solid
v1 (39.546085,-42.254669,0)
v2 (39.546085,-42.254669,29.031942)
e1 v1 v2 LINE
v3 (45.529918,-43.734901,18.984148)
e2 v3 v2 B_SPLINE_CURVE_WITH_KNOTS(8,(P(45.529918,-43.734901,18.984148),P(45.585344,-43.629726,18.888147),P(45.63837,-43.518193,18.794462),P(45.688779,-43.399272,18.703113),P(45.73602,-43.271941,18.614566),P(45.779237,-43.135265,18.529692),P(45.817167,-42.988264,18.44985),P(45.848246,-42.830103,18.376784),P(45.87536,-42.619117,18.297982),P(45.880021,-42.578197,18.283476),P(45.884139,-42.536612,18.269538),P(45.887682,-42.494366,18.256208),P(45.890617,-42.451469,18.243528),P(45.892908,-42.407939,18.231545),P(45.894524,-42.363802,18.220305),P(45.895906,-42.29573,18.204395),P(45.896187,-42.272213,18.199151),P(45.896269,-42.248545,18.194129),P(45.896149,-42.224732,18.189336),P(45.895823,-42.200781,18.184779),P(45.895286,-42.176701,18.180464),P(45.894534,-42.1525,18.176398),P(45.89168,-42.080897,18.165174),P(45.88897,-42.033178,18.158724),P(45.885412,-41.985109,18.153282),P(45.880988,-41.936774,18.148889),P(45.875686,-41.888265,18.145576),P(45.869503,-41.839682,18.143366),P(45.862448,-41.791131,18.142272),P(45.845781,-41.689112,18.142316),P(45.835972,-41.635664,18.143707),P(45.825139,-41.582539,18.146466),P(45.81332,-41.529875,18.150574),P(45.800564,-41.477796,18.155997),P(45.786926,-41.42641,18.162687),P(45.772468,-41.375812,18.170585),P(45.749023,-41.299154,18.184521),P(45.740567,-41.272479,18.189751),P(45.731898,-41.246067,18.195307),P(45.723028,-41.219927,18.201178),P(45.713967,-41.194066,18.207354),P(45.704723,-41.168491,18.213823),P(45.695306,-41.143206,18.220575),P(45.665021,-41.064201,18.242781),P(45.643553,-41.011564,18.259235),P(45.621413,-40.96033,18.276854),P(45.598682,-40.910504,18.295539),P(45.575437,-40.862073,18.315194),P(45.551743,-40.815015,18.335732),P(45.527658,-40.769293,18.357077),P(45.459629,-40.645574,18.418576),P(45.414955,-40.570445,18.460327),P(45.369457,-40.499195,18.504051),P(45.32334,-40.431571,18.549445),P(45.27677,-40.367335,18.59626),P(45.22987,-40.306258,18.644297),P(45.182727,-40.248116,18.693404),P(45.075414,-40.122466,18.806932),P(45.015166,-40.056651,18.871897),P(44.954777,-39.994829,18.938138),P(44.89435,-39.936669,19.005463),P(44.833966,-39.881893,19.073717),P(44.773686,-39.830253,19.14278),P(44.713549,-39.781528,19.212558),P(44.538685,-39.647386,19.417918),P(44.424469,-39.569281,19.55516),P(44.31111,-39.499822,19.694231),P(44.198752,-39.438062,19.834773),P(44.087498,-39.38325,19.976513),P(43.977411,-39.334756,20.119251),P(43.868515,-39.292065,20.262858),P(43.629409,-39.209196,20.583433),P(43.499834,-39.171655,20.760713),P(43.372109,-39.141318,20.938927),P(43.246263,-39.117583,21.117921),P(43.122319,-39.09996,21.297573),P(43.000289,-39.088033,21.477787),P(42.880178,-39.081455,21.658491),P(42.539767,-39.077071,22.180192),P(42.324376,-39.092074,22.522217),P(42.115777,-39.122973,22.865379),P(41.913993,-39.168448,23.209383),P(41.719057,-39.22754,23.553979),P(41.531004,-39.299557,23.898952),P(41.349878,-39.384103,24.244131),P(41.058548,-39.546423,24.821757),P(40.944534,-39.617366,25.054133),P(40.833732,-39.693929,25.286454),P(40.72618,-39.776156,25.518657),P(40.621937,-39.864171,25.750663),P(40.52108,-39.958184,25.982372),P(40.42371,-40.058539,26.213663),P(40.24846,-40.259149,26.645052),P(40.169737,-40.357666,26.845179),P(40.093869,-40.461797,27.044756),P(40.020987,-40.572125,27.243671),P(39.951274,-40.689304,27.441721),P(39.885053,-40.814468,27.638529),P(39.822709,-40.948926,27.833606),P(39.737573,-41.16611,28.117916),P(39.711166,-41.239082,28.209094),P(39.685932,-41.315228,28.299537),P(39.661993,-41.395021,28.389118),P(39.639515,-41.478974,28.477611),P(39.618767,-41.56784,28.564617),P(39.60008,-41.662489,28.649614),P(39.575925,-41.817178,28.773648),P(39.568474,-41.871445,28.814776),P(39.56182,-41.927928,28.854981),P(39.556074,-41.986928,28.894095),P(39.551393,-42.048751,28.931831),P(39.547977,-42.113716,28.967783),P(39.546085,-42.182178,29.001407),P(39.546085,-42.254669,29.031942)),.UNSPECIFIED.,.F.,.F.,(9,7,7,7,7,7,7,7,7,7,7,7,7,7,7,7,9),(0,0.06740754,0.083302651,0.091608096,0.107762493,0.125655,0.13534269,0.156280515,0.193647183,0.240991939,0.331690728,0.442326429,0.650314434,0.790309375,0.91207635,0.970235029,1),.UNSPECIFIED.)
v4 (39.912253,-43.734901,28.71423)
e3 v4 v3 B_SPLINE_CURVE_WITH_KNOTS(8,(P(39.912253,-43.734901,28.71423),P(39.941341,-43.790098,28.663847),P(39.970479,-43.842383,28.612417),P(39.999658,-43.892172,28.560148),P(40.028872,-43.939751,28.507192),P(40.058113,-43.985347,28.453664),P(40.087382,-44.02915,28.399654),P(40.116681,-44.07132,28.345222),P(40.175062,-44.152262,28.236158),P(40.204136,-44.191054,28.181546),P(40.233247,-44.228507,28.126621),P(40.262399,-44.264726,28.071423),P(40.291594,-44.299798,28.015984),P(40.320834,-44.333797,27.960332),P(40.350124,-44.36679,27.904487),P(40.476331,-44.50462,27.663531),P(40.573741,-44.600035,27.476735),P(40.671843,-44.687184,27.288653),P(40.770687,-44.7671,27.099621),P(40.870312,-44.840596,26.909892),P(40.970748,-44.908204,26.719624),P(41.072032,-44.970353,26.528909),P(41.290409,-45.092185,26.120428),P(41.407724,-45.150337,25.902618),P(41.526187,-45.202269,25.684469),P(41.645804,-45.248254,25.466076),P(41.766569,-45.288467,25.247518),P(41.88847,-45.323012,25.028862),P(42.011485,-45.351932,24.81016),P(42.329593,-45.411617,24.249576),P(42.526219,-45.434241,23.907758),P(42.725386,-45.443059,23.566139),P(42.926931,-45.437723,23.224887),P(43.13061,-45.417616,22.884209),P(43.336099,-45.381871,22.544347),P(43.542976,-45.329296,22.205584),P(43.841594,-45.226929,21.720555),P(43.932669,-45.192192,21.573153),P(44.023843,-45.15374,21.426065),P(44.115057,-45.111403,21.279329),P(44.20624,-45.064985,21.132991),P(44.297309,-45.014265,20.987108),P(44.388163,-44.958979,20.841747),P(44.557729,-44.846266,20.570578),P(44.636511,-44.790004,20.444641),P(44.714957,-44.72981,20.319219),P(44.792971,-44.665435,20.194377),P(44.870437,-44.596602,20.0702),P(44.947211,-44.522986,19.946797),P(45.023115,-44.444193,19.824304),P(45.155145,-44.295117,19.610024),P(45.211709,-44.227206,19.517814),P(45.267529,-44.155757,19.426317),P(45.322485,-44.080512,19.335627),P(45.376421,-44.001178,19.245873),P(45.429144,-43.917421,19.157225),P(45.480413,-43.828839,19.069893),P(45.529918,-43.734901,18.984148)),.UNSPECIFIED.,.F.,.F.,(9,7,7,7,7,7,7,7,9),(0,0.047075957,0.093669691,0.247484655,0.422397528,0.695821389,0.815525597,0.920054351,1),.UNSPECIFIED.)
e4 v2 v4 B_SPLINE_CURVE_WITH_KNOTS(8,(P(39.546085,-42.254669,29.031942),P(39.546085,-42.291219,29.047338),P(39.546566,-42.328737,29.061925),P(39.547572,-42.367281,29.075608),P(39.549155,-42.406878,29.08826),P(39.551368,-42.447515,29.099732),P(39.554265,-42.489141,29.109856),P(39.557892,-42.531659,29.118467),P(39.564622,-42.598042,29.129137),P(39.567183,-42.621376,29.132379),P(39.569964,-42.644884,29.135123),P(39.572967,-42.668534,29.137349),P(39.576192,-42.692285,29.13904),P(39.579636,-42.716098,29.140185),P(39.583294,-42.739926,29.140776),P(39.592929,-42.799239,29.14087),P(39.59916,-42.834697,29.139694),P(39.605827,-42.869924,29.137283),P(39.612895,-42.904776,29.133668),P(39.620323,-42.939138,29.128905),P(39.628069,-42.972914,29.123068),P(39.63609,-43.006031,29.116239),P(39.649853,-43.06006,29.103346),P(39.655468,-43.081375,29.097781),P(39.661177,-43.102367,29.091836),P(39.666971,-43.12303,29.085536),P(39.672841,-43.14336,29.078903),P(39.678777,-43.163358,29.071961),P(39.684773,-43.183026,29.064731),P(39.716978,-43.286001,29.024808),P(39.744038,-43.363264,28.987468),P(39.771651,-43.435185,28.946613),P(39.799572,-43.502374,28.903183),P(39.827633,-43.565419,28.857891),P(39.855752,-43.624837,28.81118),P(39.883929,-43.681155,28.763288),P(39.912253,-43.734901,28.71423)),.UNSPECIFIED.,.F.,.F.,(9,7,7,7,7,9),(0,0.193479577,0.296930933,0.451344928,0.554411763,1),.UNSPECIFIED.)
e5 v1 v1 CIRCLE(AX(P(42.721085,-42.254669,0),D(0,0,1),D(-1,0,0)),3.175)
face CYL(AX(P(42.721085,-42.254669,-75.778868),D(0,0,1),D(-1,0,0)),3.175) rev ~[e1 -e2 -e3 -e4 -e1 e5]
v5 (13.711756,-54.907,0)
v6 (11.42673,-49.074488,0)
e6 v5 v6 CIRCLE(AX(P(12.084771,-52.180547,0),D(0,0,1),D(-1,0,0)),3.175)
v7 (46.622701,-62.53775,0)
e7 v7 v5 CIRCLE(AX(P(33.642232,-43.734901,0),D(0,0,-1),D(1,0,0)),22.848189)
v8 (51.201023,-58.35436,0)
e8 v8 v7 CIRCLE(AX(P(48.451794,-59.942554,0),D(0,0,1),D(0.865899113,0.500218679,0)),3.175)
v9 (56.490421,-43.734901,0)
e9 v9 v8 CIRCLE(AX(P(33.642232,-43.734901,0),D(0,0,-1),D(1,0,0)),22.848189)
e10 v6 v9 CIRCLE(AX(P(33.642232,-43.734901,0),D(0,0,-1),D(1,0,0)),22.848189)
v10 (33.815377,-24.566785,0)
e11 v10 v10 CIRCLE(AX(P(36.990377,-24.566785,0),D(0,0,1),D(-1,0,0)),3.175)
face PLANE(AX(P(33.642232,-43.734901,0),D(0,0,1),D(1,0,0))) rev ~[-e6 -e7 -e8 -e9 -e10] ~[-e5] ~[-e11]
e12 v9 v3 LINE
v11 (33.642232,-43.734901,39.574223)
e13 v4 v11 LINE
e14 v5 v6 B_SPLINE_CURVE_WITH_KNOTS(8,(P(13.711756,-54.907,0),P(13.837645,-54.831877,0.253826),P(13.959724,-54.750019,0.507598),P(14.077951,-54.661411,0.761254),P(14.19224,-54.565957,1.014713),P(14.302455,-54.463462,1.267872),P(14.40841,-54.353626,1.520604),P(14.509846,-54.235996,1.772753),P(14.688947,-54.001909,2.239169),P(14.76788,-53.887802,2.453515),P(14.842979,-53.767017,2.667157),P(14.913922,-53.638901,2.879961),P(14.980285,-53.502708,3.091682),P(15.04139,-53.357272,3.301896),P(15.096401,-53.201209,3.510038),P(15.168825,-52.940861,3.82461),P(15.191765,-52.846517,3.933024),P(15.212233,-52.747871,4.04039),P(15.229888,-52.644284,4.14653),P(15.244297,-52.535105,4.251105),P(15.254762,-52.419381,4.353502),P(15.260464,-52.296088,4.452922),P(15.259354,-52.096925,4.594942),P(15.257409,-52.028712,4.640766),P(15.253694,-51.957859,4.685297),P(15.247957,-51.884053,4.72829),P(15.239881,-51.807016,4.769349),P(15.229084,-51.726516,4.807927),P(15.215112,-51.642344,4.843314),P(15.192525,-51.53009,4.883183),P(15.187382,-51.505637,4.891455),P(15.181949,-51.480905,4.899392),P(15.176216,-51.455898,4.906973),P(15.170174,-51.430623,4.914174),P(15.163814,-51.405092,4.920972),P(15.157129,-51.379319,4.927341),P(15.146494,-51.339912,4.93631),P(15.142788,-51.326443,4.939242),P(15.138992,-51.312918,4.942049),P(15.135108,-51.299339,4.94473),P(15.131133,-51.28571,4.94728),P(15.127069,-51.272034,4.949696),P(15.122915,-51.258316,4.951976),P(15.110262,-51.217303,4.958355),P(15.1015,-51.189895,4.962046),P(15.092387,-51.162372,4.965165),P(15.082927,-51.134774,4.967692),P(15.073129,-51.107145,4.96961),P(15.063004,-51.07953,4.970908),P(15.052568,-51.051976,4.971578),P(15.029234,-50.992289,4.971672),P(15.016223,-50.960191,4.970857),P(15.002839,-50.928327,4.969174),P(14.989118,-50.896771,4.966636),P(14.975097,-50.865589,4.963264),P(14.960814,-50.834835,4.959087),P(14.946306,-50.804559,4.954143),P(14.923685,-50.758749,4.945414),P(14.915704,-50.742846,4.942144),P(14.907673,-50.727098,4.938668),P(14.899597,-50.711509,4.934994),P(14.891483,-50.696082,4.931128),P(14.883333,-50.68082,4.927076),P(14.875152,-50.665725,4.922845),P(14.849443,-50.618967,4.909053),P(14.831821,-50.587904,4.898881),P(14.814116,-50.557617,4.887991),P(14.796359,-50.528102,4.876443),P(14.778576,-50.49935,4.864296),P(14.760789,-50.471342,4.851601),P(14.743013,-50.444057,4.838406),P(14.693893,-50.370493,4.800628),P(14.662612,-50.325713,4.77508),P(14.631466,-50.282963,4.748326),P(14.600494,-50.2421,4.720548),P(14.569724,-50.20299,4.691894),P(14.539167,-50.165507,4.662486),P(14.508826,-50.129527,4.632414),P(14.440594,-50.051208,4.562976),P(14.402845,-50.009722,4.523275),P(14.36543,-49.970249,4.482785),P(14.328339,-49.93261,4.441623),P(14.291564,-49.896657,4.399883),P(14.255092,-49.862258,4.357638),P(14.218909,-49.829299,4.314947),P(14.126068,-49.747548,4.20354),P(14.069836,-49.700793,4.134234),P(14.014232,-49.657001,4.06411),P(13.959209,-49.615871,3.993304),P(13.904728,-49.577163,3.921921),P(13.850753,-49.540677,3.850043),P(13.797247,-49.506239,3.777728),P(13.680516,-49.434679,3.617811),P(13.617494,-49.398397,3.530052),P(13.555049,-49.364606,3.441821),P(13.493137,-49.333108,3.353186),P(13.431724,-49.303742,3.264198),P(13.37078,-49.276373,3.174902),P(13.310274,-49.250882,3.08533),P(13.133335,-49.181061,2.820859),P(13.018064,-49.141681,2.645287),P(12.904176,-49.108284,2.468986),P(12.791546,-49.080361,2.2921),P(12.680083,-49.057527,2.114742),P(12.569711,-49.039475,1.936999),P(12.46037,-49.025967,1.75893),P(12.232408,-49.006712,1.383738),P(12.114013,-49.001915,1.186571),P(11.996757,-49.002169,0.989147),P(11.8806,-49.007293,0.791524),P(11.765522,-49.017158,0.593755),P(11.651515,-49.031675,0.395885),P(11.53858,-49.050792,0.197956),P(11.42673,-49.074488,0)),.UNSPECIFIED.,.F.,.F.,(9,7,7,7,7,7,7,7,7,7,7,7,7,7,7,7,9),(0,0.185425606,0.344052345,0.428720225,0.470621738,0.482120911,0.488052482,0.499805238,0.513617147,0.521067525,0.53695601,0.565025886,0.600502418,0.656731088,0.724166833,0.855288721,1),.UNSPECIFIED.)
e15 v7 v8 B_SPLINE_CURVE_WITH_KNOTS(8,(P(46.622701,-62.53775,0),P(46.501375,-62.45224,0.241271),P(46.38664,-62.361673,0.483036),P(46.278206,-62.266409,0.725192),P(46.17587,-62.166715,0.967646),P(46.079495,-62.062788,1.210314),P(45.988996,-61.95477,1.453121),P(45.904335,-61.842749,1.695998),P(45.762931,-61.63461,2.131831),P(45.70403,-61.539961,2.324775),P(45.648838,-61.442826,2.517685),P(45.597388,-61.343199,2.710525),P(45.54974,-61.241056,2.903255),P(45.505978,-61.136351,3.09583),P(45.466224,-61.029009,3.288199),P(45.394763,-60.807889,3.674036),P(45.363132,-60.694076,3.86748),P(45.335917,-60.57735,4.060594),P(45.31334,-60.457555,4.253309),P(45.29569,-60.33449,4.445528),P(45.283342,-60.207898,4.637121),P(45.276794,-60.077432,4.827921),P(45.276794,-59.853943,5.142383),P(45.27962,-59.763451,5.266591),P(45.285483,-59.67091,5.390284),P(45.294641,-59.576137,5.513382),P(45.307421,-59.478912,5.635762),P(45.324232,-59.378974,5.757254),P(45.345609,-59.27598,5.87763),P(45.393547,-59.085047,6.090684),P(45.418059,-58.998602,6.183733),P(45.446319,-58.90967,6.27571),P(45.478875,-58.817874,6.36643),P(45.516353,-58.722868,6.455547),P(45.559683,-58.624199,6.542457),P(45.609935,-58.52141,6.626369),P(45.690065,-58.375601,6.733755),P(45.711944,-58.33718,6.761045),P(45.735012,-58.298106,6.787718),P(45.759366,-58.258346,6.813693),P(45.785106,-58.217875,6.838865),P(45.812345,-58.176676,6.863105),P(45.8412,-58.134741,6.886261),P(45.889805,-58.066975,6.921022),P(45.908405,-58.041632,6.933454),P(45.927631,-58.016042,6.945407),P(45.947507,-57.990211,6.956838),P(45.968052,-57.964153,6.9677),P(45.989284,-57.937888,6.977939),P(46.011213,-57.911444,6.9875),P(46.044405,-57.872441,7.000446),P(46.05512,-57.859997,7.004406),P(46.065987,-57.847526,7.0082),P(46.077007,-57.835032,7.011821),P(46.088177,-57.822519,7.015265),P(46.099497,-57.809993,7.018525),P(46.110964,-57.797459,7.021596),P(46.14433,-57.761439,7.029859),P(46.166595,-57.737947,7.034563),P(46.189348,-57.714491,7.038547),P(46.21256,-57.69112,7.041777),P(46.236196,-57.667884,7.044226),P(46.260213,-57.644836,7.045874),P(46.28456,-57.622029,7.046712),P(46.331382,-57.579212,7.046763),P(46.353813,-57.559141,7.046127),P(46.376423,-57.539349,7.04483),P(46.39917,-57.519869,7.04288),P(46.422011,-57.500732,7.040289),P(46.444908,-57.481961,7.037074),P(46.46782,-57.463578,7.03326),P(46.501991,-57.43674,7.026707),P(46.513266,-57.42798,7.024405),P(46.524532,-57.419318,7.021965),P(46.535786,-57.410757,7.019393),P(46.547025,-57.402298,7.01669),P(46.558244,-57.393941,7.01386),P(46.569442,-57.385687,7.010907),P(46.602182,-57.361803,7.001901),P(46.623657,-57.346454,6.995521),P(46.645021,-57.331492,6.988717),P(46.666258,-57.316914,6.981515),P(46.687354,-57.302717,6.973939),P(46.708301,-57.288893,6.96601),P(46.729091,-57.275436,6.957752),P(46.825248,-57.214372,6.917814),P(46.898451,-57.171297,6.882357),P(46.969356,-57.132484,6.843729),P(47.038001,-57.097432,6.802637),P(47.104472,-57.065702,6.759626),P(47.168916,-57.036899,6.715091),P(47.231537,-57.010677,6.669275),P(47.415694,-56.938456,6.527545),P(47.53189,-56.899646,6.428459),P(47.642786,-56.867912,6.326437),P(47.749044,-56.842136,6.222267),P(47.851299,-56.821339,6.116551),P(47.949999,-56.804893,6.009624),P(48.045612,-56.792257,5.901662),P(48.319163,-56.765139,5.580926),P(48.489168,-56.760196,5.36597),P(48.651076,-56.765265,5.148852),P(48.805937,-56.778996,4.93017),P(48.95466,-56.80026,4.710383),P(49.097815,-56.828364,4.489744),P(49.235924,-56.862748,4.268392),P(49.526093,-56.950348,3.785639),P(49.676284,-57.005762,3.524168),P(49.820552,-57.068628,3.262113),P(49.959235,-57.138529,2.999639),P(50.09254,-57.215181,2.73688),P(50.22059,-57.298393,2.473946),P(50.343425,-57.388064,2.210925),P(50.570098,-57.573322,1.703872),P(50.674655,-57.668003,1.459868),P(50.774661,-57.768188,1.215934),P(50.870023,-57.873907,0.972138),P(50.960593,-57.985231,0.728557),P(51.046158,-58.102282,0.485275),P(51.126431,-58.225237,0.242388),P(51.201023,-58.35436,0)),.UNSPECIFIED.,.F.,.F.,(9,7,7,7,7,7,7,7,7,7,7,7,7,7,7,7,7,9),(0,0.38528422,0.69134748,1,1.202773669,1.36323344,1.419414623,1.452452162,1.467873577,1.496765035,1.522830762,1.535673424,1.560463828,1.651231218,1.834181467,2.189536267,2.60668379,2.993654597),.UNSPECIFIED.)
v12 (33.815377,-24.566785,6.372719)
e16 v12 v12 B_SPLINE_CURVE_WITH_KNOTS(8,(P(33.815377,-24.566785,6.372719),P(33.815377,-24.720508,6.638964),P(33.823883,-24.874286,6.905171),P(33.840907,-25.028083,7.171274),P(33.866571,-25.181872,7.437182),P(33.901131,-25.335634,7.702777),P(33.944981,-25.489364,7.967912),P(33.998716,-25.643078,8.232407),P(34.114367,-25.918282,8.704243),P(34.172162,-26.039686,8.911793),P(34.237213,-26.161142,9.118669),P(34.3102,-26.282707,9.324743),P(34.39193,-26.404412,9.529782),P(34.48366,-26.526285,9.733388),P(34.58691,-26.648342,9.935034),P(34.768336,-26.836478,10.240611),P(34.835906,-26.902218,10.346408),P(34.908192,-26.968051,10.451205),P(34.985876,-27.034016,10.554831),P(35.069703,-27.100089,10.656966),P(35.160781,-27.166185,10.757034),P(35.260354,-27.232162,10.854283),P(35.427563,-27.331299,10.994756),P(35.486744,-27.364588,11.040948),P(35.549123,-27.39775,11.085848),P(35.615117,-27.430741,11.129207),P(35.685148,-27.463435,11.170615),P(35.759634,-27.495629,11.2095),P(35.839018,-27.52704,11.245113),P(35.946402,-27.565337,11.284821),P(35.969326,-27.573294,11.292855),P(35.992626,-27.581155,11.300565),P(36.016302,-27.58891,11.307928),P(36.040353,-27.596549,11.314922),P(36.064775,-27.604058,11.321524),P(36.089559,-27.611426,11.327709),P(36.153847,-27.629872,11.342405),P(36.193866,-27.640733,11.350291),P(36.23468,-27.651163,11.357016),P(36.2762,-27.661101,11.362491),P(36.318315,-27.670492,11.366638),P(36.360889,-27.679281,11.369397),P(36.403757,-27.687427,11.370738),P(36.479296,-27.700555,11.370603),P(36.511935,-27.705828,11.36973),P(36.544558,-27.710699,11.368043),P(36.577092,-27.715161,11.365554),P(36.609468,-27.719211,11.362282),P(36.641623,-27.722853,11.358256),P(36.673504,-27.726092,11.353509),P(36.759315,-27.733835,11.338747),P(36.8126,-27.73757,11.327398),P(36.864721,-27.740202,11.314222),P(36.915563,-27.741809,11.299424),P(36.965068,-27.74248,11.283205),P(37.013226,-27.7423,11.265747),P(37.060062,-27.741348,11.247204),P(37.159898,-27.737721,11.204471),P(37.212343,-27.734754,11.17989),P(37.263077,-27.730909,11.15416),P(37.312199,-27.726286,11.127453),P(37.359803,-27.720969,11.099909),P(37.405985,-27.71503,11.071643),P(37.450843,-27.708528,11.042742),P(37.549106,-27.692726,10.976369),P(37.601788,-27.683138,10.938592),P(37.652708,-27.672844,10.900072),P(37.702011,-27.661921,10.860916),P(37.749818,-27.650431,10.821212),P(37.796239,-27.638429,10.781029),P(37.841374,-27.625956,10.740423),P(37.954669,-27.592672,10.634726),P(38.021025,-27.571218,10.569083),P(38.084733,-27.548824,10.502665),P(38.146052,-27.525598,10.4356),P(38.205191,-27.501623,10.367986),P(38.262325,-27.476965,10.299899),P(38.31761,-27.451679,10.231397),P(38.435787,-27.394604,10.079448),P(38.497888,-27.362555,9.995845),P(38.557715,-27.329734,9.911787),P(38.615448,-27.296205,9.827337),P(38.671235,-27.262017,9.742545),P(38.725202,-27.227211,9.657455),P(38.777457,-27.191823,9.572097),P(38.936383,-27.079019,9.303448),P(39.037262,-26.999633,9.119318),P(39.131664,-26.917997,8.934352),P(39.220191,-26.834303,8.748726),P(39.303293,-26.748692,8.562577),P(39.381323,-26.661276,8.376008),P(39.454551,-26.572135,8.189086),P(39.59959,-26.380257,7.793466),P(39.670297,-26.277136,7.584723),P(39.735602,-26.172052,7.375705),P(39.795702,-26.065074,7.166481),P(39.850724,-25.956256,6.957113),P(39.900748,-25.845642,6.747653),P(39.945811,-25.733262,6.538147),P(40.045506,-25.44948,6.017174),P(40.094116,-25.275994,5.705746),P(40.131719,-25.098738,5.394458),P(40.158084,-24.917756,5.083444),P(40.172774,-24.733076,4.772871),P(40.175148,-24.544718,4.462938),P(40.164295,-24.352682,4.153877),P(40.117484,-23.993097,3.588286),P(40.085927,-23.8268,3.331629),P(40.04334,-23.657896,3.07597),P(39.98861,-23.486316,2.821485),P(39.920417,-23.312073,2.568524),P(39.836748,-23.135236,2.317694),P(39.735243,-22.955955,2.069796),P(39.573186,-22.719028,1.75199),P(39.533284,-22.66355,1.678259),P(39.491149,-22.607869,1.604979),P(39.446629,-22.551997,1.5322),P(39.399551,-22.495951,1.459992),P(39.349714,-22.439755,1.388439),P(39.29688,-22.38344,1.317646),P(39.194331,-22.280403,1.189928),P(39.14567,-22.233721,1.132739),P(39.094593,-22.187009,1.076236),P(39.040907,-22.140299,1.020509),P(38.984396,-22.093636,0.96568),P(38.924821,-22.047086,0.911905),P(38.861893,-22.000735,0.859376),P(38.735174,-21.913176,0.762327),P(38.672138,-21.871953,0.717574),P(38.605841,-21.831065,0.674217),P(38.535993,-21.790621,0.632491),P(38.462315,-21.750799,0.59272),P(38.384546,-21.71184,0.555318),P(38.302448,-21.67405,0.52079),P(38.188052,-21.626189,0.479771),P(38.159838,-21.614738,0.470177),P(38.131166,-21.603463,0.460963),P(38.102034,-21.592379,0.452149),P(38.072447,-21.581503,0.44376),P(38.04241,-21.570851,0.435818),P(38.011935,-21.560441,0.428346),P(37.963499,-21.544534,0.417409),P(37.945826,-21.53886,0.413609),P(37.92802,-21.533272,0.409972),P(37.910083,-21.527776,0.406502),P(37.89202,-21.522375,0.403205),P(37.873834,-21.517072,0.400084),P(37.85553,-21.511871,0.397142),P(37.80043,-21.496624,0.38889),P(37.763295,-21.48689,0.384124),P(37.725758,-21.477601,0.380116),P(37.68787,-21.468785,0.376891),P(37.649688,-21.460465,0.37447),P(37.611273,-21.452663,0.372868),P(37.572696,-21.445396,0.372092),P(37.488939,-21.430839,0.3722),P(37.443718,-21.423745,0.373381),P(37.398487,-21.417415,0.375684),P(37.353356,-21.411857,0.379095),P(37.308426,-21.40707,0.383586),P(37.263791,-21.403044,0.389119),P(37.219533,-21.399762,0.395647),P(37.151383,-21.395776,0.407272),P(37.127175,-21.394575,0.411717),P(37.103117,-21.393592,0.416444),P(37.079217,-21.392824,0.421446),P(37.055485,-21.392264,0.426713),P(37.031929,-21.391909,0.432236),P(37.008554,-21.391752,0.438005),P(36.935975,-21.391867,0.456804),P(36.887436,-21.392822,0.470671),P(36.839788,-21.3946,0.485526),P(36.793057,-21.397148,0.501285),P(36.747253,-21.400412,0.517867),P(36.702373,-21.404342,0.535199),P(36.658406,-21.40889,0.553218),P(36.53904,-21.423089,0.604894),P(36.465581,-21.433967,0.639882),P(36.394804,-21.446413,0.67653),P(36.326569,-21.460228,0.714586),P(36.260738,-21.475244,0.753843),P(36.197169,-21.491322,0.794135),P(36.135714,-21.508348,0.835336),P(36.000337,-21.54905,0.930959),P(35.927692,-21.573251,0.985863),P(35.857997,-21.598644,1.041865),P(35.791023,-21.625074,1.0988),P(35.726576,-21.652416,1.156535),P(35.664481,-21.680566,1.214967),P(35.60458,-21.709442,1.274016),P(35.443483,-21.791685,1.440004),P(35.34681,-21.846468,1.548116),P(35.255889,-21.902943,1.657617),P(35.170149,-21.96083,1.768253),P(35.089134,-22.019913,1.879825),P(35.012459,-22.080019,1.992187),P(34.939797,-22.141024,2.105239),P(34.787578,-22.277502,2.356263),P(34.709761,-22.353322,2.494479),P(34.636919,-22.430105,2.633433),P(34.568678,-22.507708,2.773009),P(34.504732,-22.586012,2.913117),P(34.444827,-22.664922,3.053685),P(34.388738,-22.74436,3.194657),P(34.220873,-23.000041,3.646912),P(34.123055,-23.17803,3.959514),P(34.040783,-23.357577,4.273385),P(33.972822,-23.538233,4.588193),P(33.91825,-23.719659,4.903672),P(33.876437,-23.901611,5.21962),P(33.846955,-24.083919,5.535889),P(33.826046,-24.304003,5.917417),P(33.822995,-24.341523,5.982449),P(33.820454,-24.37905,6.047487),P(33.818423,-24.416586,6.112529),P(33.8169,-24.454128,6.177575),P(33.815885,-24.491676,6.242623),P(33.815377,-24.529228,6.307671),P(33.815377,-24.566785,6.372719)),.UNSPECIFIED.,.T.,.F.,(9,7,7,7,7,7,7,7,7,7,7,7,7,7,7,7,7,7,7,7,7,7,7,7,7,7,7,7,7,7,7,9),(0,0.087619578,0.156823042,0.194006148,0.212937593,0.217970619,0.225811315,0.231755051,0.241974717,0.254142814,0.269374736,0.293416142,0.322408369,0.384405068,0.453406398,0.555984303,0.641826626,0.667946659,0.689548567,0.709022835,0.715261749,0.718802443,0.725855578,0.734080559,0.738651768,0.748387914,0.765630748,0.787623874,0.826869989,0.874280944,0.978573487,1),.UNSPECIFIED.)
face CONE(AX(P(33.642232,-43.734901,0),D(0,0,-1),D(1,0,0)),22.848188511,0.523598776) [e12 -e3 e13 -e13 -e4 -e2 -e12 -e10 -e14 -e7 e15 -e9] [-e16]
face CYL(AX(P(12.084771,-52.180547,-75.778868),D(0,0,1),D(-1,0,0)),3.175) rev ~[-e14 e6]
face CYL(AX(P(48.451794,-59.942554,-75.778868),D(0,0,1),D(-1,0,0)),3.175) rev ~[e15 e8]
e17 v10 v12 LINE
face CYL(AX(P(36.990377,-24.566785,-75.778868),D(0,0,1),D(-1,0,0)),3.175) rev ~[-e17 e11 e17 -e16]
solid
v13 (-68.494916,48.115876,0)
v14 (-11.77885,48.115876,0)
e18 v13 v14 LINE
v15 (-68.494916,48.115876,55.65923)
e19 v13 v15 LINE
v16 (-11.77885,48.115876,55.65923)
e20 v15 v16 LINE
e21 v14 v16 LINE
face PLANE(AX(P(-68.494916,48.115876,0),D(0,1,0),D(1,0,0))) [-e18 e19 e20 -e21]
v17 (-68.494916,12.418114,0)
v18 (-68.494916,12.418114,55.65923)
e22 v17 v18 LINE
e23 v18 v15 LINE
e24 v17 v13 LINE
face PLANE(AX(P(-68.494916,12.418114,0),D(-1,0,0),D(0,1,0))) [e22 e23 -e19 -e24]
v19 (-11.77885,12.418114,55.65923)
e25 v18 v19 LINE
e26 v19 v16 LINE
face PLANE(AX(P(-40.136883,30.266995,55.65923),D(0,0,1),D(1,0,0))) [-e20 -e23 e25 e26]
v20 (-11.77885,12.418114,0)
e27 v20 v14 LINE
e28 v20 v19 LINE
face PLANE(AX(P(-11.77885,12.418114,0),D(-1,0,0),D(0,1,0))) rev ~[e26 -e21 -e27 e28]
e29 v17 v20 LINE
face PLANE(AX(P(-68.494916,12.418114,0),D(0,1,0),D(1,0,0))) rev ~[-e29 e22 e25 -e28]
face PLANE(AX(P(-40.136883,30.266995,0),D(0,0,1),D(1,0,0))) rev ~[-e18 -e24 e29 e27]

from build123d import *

# Parameters (mm, degrees)
F0_W     = 56.7160658538
F0_H     = 35.6977619231
F1_DEPTH = 55.65923
F2_R     = 22.8481885107
F3_DEPTH = 43.99779
F3_TAPER = 30
F5_D     = 6.35


with BuildPart() as f1:
    # F0 (on Top) → F1 (new body)
    with BuildSketch(Plane.XY):
        with Locations((-40.1368830353, 30.2669946104)):
            Rectangle(F0_W, F0_H)
    extrude(amount=F1_DEPTH)


with BuildPart() as f3:
    # F2 (on Top) → F3 (new body)
    with BuildSketch(Plane.XY):
        with Locations((33.6422324181, -43.7349006534)):
            Circle(F2_R)
    extrude(amount=F3_DEPTH, taper=F3_TAPER)

    # F5 (through all)
    with Locations(Plane(origin=(0, 0, 0), x_dir=(1, 0, 0), z_dir=(0, 0, -1))):
        with Locations((42.7210853135, 42.2546694808), (36.9903769734, 24.5667850618), (12.0847708214, 52.1805474892), (48.4517936536, 59.9425538998)):
            Hole(F5_D / 2)


solid = Compound([f1.part, f3.part])
